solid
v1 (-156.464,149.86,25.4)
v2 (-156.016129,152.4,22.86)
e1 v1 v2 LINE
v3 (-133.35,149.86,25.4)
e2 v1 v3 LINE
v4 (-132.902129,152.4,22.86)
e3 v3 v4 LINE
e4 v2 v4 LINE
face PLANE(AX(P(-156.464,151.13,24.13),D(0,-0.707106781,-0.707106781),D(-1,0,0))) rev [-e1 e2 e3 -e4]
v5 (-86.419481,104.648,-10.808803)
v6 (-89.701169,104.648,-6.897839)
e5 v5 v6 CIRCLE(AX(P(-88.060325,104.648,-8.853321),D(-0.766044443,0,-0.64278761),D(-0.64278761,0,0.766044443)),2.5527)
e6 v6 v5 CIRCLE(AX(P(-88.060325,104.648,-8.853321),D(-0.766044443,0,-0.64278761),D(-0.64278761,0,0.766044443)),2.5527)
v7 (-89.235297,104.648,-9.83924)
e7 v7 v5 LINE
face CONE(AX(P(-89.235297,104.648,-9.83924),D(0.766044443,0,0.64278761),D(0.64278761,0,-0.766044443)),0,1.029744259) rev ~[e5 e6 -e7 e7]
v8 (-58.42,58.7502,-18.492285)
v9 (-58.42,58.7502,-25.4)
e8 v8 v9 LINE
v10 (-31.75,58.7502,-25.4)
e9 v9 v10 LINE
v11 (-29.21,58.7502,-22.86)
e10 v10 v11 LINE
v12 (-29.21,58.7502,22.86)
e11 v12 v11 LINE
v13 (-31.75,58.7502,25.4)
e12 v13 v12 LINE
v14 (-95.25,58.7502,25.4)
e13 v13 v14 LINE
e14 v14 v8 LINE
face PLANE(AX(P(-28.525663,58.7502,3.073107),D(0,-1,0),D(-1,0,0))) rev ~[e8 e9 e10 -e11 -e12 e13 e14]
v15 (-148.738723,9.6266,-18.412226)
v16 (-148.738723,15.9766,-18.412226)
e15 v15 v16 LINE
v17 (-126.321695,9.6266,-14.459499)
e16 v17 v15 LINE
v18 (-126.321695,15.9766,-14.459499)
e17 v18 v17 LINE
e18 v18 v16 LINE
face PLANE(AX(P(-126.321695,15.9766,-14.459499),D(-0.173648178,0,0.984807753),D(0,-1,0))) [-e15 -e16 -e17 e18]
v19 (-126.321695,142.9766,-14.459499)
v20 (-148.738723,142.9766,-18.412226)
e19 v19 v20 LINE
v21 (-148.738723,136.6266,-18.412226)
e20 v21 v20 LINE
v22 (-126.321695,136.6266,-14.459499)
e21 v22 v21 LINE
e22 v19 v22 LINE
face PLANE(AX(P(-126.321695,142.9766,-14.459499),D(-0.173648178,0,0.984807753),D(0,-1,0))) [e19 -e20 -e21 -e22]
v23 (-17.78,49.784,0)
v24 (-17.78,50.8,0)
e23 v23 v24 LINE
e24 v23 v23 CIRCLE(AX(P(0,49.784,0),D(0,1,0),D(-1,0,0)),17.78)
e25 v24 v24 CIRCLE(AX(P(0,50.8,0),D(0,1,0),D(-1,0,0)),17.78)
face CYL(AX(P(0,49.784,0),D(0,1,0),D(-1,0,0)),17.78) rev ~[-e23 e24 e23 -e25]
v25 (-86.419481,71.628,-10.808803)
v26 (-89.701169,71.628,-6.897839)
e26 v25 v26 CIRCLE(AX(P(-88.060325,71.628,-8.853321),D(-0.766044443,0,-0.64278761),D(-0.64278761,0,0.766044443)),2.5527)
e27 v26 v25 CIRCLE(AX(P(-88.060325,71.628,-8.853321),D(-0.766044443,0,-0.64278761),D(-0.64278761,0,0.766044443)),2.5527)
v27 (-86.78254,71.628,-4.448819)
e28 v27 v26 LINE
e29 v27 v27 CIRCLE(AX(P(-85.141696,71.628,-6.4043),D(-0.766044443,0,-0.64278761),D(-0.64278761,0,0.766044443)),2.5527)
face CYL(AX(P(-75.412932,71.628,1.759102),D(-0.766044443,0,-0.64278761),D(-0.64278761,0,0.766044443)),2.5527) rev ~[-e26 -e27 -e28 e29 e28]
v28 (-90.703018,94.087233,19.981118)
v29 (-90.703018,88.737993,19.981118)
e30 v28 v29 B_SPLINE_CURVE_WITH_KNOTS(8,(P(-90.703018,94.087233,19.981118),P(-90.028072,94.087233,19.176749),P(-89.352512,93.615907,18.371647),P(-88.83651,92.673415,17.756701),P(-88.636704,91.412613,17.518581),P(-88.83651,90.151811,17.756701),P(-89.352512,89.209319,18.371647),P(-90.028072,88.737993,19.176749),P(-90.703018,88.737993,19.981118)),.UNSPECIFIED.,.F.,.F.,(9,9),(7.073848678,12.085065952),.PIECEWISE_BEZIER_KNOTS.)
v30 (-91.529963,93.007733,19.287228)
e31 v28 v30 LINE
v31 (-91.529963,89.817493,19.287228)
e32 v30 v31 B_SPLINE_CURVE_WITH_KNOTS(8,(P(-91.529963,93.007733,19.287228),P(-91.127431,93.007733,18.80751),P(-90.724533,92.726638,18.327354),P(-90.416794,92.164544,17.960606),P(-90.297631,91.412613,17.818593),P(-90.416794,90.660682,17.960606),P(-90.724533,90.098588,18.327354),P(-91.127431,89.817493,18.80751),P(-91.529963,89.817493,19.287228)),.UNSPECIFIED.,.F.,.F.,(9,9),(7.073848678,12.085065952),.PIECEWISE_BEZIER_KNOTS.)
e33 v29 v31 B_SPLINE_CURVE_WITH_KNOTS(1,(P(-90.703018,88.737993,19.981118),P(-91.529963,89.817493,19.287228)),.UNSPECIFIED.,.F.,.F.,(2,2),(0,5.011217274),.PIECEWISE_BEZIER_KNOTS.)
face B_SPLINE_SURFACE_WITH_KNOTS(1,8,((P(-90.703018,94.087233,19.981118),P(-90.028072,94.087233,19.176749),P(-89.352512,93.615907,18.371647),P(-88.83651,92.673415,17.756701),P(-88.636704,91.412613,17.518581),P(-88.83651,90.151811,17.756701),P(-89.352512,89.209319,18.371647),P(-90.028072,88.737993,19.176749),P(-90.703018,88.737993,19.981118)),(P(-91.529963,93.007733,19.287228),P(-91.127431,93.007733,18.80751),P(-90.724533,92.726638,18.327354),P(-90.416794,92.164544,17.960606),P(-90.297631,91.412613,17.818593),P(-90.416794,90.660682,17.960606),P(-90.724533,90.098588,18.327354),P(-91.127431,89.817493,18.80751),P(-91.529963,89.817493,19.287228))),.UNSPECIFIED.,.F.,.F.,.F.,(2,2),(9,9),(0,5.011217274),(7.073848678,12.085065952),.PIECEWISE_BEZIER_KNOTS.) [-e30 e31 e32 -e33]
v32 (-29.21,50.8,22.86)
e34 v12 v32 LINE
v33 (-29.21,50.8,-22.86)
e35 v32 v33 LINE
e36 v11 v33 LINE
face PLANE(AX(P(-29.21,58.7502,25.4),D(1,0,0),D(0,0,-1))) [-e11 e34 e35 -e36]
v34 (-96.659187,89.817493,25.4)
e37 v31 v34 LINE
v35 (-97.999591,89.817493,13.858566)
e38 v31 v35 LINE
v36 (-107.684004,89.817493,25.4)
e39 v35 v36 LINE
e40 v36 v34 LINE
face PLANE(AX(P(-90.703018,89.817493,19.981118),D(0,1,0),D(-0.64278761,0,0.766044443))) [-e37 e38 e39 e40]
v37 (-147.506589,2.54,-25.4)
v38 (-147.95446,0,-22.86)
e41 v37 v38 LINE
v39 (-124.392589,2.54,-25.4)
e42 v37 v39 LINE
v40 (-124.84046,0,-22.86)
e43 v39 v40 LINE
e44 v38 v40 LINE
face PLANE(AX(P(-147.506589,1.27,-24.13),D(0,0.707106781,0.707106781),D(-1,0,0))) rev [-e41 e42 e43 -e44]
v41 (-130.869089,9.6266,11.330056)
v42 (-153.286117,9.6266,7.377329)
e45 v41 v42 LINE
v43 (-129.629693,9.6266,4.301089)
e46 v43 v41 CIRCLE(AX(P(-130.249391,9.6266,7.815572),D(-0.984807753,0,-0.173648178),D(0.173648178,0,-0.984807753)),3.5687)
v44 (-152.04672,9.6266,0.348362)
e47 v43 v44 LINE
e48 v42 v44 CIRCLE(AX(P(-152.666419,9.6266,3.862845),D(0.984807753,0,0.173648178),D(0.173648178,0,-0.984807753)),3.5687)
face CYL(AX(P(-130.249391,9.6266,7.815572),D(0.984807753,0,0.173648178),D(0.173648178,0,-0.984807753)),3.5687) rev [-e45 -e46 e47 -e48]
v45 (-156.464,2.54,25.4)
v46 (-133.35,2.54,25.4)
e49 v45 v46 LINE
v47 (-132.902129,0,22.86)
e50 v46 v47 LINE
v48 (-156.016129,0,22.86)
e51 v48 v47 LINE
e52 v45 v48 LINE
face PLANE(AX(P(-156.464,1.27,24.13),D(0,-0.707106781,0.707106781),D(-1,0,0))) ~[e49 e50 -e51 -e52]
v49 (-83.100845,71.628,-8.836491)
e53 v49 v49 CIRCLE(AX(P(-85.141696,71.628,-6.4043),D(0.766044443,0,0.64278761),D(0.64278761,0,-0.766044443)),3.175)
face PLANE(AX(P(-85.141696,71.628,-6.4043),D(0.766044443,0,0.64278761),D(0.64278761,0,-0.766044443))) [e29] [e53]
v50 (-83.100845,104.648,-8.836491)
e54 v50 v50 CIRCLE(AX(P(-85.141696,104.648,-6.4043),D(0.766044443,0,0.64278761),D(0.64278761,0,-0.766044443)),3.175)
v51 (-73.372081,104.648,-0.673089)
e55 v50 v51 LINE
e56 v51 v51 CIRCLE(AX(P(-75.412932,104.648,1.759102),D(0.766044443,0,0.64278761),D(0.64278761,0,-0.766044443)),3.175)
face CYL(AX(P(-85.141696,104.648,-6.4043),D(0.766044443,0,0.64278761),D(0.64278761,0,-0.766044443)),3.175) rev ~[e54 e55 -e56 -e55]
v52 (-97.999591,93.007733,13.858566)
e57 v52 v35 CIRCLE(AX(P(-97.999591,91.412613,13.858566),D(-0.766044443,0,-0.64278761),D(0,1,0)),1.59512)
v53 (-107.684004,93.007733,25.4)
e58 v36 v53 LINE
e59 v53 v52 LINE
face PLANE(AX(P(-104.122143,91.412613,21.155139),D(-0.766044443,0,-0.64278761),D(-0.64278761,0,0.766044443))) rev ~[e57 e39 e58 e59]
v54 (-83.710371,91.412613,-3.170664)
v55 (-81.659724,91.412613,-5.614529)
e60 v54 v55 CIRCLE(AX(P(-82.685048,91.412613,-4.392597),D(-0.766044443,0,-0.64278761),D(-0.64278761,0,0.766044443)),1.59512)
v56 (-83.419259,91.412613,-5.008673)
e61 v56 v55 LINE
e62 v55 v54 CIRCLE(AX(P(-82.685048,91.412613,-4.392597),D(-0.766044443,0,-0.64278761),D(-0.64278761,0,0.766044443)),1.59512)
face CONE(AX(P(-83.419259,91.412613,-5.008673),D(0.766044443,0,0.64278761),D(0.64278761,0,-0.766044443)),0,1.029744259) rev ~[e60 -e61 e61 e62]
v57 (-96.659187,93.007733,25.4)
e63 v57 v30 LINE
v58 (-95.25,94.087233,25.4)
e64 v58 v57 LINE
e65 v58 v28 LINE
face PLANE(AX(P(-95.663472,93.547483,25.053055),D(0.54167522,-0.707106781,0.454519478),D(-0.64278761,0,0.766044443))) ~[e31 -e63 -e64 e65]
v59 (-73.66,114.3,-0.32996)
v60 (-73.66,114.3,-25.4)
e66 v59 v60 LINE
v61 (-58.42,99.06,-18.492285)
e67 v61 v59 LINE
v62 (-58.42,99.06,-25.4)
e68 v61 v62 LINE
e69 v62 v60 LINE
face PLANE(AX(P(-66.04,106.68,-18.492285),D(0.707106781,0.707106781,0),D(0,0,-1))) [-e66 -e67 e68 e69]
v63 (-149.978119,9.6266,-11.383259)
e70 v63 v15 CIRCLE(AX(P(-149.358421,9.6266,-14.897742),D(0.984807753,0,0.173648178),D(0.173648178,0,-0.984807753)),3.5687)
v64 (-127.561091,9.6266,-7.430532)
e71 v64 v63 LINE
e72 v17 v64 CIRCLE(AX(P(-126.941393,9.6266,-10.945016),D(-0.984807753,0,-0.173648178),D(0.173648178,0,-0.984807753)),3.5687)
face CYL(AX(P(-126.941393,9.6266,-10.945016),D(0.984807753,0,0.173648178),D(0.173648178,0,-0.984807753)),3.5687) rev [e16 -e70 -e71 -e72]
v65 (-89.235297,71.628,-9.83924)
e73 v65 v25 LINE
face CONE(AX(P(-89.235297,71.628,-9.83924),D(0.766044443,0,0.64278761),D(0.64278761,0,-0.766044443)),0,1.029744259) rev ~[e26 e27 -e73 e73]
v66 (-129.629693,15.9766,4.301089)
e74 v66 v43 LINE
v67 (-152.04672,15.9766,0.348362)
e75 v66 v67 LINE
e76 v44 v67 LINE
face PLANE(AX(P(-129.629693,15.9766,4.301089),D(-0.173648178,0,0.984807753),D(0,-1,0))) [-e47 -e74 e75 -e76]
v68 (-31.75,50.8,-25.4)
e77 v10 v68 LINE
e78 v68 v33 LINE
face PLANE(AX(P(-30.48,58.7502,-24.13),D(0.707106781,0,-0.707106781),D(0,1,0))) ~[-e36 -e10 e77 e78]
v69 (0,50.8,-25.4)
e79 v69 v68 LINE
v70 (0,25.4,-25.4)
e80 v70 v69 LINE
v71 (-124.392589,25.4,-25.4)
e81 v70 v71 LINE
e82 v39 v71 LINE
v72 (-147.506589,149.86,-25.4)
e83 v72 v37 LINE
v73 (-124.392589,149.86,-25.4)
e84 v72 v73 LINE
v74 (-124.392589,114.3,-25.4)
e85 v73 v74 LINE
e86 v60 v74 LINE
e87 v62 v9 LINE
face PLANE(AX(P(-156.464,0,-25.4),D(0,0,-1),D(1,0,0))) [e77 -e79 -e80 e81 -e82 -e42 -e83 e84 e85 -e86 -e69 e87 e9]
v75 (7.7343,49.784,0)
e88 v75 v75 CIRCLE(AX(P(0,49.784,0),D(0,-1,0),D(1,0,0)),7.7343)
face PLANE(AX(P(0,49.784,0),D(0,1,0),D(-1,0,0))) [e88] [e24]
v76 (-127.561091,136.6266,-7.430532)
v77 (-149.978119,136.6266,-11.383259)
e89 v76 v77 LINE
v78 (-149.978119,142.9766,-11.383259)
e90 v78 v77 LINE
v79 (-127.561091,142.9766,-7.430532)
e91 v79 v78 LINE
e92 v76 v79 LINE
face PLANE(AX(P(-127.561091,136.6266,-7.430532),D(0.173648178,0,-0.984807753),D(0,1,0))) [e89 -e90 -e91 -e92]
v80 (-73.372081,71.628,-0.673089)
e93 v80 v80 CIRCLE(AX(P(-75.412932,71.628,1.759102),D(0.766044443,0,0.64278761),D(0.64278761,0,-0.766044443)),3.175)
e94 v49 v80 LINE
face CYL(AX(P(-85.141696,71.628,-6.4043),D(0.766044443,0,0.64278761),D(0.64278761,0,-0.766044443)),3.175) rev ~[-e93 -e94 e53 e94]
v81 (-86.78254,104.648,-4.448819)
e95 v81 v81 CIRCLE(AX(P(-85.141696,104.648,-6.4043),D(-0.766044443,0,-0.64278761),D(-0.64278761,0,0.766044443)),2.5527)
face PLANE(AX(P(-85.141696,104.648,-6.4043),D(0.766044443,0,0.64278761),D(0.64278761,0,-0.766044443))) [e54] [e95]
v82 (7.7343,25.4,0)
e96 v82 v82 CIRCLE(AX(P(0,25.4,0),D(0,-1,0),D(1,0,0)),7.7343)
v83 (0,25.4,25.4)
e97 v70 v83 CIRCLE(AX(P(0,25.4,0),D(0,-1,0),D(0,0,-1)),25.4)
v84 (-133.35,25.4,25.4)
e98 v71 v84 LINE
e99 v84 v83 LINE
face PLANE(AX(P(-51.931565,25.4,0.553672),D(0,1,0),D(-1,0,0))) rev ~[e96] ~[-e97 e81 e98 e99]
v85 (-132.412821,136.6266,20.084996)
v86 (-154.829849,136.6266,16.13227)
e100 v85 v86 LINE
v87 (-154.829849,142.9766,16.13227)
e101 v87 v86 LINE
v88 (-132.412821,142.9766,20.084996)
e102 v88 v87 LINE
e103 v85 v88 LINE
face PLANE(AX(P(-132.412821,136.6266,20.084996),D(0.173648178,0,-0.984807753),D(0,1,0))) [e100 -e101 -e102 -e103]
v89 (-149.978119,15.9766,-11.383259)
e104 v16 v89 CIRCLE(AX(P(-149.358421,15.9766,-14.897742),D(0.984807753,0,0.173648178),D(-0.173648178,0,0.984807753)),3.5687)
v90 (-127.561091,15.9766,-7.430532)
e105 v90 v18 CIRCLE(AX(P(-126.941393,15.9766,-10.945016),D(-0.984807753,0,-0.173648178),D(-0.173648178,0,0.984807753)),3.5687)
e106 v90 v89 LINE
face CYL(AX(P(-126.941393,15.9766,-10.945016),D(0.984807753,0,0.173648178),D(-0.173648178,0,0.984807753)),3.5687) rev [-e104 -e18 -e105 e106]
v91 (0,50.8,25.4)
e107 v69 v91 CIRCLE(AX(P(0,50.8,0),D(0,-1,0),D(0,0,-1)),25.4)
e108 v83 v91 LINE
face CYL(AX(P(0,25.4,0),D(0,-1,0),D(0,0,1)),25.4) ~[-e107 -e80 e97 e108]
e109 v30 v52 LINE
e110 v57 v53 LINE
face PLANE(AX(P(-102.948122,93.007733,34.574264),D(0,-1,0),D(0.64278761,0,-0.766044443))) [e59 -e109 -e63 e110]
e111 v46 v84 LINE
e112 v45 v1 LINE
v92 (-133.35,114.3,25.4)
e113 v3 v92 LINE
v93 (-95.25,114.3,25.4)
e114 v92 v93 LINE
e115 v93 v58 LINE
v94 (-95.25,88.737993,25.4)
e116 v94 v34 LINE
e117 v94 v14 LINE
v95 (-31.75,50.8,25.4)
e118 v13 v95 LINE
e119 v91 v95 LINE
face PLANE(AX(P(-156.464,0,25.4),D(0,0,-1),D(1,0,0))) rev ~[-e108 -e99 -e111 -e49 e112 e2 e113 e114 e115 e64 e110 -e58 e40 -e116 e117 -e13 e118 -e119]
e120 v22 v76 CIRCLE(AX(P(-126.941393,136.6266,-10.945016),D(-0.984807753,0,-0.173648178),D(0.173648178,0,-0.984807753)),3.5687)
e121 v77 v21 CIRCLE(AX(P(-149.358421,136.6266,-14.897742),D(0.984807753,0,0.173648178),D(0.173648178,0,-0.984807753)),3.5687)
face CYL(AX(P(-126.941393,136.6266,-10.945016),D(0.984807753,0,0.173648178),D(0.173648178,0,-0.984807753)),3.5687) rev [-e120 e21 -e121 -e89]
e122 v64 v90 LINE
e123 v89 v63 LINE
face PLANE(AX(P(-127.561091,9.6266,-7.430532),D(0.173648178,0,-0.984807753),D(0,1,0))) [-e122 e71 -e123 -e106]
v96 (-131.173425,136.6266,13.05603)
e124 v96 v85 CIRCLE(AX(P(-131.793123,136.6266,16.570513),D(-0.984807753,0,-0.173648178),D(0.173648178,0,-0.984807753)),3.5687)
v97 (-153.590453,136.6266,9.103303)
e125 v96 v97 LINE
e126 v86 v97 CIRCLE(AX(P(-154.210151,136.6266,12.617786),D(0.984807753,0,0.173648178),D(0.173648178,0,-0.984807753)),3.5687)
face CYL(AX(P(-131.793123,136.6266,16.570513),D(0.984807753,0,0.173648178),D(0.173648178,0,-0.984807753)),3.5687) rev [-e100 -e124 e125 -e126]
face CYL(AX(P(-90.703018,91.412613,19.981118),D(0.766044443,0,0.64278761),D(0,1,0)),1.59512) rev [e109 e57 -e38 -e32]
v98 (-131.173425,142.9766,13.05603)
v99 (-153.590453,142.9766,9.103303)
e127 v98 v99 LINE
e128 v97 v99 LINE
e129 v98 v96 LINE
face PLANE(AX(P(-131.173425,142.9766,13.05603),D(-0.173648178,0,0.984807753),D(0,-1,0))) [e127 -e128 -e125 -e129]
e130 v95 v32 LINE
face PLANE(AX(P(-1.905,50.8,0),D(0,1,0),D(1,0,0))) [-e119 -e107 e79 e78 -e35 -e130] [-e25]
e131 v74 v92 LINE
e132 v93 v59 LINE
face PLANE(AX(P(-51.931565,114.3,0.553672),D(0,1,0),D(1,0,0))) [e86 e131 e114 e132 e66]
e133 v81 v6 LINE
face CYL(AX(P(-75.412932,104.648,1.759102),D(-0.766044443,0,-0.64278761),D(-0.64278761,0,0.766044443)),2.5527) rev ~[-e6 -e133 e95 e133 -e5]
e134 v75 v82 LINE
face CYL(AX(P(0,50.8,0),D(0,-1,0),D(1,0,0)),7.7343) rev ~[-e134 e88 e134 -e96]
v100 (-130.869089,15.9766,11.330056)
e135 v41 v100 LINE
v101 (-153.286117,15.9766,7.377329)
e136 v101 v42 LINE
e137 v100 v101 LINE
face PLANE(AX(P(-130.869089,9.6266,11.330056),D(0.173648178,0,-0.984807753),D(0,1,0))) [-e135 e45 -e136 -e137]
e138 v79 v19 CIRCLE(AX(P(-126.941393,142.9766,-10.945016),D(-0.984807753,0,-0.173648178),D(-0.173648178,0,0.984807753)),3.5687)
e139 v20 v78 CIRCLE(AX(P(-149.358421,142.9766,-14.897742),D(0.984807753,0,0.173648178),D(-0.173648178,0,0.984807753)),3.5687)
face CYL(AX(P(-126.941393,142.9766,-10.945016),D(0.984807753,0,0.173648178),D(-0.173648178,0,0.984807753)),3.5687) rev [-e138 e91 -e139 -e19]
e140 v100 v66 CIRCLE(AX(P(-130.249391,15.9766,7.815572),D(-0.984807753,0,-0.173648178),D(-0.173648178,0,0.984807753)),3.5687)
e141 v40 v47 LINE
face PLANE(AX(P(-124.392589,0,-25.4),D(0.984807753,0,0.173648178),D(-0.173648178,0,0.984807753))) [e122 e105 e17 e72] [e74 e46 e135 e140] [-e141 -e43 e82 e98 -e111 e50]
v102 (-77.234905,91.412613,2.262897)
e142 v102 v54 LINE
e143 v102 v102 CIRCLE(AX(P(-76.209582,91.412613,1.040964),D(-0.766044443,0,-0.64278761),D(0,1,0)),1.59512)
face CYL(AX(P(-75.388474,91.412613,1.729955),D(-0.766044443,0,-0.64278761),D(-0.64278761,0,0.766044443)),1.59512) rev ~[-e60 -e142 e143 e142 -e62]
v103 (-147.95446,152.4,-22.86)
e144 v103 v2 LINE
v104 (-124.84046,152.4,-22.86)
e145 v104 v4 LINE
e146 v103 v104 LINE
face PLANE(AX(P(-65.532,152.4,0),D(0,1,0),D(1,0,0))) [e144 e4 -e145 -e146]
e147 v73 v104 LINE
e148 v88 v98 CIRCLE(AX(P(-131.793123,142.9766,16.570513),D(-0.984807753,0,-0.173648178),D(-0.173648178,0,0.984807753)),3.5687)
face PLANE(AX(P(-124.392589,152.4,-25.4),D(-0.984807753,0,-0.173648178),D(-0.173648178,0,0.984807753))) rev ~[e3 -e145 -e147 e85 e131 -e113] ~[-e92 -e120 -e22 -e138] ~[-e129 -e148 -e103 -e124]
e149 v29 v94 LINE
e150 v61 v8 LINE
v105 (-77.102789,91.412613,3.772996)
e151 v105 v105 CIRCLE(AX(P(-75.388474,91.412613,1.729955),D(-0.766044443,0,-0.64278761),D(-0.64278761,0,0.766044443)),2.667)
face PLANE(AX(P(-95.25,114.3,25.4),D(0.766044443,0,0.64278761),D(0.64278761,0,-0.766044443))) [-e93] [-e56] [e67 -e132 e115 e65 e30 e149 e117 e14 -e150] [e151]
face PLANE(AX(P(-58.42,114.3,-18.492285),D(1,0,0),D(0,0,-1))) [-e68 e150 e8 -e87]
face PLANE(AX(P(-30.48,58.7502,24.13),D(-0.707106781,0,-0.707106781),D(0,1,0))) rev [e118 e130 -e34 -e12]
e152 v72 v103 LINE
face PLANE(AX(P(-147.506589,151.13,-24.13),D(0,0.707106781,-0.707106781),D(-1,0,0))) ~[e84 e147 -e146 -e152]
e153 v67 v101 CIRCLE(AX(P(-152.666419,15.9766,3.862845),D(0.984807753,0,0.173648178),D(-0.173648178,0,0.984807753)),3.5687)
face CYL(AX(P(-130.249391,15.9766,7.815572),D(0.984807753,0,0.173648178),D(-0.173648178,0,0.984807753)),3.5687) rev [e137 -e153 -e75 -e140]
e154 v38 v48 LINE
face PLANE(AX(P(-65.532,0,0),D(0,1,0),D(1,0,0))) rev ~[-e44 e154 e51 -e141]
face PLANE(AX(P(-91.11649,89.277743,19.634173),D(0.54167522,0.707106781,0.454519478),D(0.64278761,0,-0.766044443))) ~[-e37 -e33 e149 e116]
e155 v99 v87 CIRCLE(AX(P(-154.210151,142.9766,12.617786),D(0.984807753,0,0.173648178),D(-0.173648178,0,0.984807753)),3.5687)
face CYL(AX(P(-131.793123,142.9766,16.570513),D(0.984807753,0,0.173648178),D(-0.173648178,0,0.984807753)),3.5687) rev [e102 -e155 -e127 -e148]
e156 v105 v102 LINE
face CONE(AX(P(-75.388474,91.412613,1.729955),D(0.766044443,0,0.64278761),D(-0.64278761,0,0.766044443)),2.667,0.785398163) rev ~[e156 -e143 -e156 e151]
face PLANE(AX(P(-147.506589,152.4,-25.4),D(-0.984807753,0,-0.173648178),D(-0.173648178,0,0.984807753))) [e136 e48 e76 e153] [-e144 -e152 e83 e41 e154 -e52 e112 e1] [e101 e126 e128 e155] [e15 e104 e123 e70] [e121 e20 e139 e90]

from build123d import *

# Parameters (mm, degrees)
SKETCH1_W                              = 181.864
SKETCH1_H                              = 50.8
EXTRUDE1_DEPTH                         = 152.4
EXTRUDE2_DEPTH                         = 153.4
EXTRUDE3_DEPTH                         = 38.1
EXTRUDE4_DEPTH                         = 55.5498
SKETCH5_W                              = 54.61
SKETCH5_H                              = 50.8
EXTRUDE5_DEPTH                         = 7.9502
EXTRUDE6_DEPTH                         = 25.4
EXTRUDE7_DEPTH                         = 32.584173829
LPATTERN1_COUNT                        = 2
LPATTERN1_PITCH                        = 127
LPATTERN1_COUNT_DIR2                   = 2
LPATTERN1_PITCH_DIR2                   = 27.94
F_1_4_20_TAPPED_HOLE1_D                = 5.1054
F_1_4_20_TAPPED_HOLE1_DEPTH            = 16.51
F_1_4_20_TAPPED_HOLE1_CBORE_D          = 6.35
F_1_4_20_TAPPED_HOLE1_CBORE_DEPTH      = 12.7
F_1_4_20_TAPPED_HOLE1_TIP              = 1.533816902
EXTRUDE9_DEPTH                         = 128
CHAMFER1_SIZE                          = 2.54
CHAMFER2_SIZE                          = 15.24
EXTRUDE10_DEPTH                        = 32.584173829
SCREW_THRU_HOLE_AND_CBORE_D            = 15.4686
SCREW_THRU_HOLE_AND_CBORE_CBORE_D      = 35.56
SCREW_THRU_HOLE_AND_CBORE_CBORE_DEPTH  = 1.016
F_1_8_0_125_DIAMETER_HOLE1_D           = 3.19024
F_1_8_0_125_DIAMETER_HOLE1_DEPTH       = 9.525
F_1_8_0_125_DIAMETER_HOLE1_CSINK_D     = 5.334
F_1_8_0_125_DIAMETER_HOLE1_CSINK_ANGLE = 90
F_1_8_0_125_DIAMETER_HOLE1_TIP         = 0.958444791
CUT_EXTRUDE1_DEPTH                     = 9.525
CHAMFER3_SIZE                          = 1.0795


with BuildPart() as part:
    # Sketch1 → Extrude1 (new body)
    with BuildSketch(Plane(origin=(0, 0, 0), x_dir=(1, 0, 0), z_dir=(0, 1, 0))):
        with Locations((-65.532, 0)):
            Rectangle(SKETCH1_W, SKETCH1_H)
    extrude(amount=EXTRUDE1_DEPTH)

    # Sketch2 → Extrude2 (cut, through all)
    with BuildSketch(Plane(origin=(0, 152.4, 0), x_dir=(1, 0, 0), z_dir=(0, 1, 0))):
        Polygon((-156.464, -25.4), (-156.464, 25.4), (-147.50658938, 25.4), align=None)
    extrude(amount=-EXTRUDE2_DEPTH, mode=Mode.SUBTRACT)

    # Sketch3 → Extrude3 (cut)
    with BuildSketch(Plane(origin=(0, 152.4, 0), x_dir=(1, 0, 0), z_dir=(0, 1, 0))):
        Polygon((25.4, -25.4), (25.4, 25.4), (-124.39258938, 25.4), (-133.35, -25.4), align=None)
    extrude(amount=-EXTRUDE3_DEPTH, mode=Mode.SUBTRACT)

    # Sketch4 → Extrude4 (cut)
    with BuildSketch(Plane(origin=(0, 114.3, 0), x_dir=(1, 0, 0), z_dir=(0, 1, 0))):
        Polygon((25.4, -25.4), (-95.25, -25.4), (-58.42, 18.492284815), (-58.42, 25.4), (25.4, 25.4), align=None)
    extrude(amount=-EXTRUDE4_DEPTH, mode=Mode.SUBTRACT)

    # Sketch5 → Extrude5 (cut)
    with BuildSketch(Plane(origin=(0, 58.7502, 0), x_dir=(1, 0, 0), z_dir=(0, 1, 0))):
        with Locations((-1.905, 0)):
            Rectangle(SKETCH5_W, SKETCH5_H)
    extrude(amount=-EXTRUDE5_DEPTH, mode=Mode.SUBTRACT)

    # Sketch6 → Extrude6 (cut)
    with BuildSketch(Plane.XZ):
        Polygon((25.4, 25.4), (25.4, -25.4), (-124.39258938, -25.4), (-133.35, 25.4), align=None)
    extrude(amount=-EXTRUDE6_DEPTH, mode=Mode.SUBTRACT)

    # Sketch7 → Extrude7 (cut, through all)
    with BuildSketch(Plane(origin=(-124.985349671, 0, -22.03828934), x_dir=(0.173648178, 0, -0.984807753), z_dir=(0.984807753, 0, 0.173648178))):
        with BuildLine():
            Line((-35.635705397, 142.9766), (-35.635705397, 136.6266))
            ThreePointArc((-35.635705397, 136.6266), (-39.204405397, 133.0579), (-42.773105397, 136.6266))
            Line((-42.773105397, 136.6266), (-42.773105397, 142.9766))
            ThreePointArc((-42.773105397, 142.9766), (-39.204405397, 146.5453), (-35.635705397, 142.9766))
        make_face()
    extrude7 = extrude(amount=-EXTRUDE7_DEPTH, mode=Mode.SUBTRACT)

    # LPattern1: Extrude7 2 × 2, 1 skipped
    with Locations(*[Vector(0, -1, 0) * (i * LPATTERN1_PITCH) + Vector(0.173648178, 0, -0.984807753) * (j * LPATTERN1_PITCH_DIR2) for i in range(LPATTERN1_COUNT) for j in range(LPATTERN1_COUNT_DIR2) if (i, j) not in ((0, 0), (1, 0))]):
        add(extrude7, mode=Mode.SUBTRACT)

    # 1/4-20 Tapped Hole1
    with Locations(Plane(origin=(-43.387935998, 0, -36.406801094), x_dir=(0.64278761, 0, -0.766044443), z_dir=(0.766044443, 0, 0.64278761))):
        with Locations((-49.822048678, 104.648), (-49.822048678, 71.628)):
            CounterBoreHole(F_1_4_20_TAPPED_HOLE1_D / 2, F_1_4_20_TAPPED_HOLE1_CBORE_D / 2, F_1_4_20_TAPPED_HOLE1_CBORE_DEPTH, depth=F_1_4_20_TAPPED_HOLE1_DEPTH)
            with Locations((0, 0, -(F_1_4_20_TAPPED_HOLE1_DEPTH + F_1_4_20_TAPPED_HOLE1_TIP / 2))):  # 118° drill point
                Cone(0, F_1_4_20_TAPPED_HOLE1_D / 2, F_1_4_20_TAPPED_HOLE1_TIP, mode=Mode.SUBTRACT)

    # Sketch19 → Extrude9 (cut, through all)
    with BuildSketch(Plane.XZ.offset(-25.4)):
        with BuildLine():
            Line((27.94, 25.4), (0, 25.4))
            ThreePointArc((0, 25.4), (25.4, 0), (0, -25.4))
            Line((0, -25.4), (27.94, -25.4))
            Line((27.94, -25.4), (27.94, 25.4))
        make_face()
    extrude(amount=-EXTRUDE9_DEPTH, mode=Mode.SUBTRACT)

    # Chamfer1
    chamfer1_edges = [part.edges().sort_by_distance(p)[0] for p in [
        (-135.94958938, 152.4, -25.4),
        (-144.907, 0, 25.4),
        (-29.21, 54.7751, 25.4),
        (-29.21, 54.7751, -25.4),
        (-135.94958938, 0, -25.4),
        (-144.907, 152.4, 25.4),
    ]]
    chamfer(chamfer1_edges, length=CHAMFER1_SIZE)

    # Chamfer2
    chamfer2_edges = [part.edges().sort_by_distance(p)[0] for p in [
        (-58.42, 114.3, -21.946142408),
    ]]
    chamfer(chamfer2_edges, length=CHAMFER2_SIZE)

    # Sketch20 → Extrude10 (cut, through all)
    with BuildSketch(Plane(origin=(-124.985349671, 0, -22.03828934), x_dir=(0.173648178, 0, -0.984807753), z_dir=(0.984807753, 0, 0.173648178))):
        with BuildLine():
            Line((-26.745705397, 15.9766), (-26.745705397, 9.6266))
            ThreePointArc((-26.745705397, 9.6266), (-30.314405397, 6.0579), (-33.883105397, 9.6266))
            Line((-33.883105397, 9.6266), (-33.883105397, 15.9766))
            ThreePointArc((-33.883105397, 15.9766), (-30.314405397, 19.5453), (-26.745705397, 15.9766))
        make_face()
    extrude(amount=-EXTRUDE10_DEPTH, mode=Mode.SUBTRACT)

    # SCREW THRU HOLE AND CBORE (through all)
    with Locations(Plane(origin=(0, 50.8, 0), x_dir=(-1, 0, 0), z_dir=(0, 1, 0))):
        with Locations((0, 0)):
            CounterBoreHole(SCREW_THRU_HOLE_AND_CBORE_D / 2, SCREW_THRU_HOLE_AND_CBORE_CBORE_D / 2, SCREW_THRU_HOLE_AND_CBORE_CBORE_DEPTH)

    # 1/8 (0.125) Diameter Hole1
    with Locations(Plane(origin=(-43.387935998, 0, -36.406801094), x_dir=(0.64278761, 0, -0.766044443), z_dir=(0.766044443, 0, 0.64278761))):
        with Locations((-49.784, 91.412613047)):
            CounterSinkHole(F_1_8_0_125_DIAMETER_HOLE1_D / 2, F_1_8_0_125_DIAMETER_HOLE1_CSINK_D / 2, depth=F_1_8_0_125_DIAMETER_HOLE1_DEPTH, counter_sink_angle=F_1_8_0_125_DIAMETER_HOLE1_CSINK_ANGLE)
            with Locations((0, 0, -(F_1_8_0_125_DIAMETER_HOLE1_DEPTH + F_1_8_0_125_DIAMETER_HOLE1_TIP / 2))):  # 118° drill point
                Cone(0, F_1_8_0_125_DIAMETER_HOLE1_D / 2, F_1_8_0_125_DIAMETER_HOLE1_TIP, mode=Mode.SUBTRACT)

    # Sketch26 → Cut-Extrude1 (cut)
    with BuildSketch(Plane(origin=(-43.387935998, 0, -36.406801094), x_dir=(0.64278761, 0, -0.766044443), z_dir=(0.766044443, 0, 0.64278761))):
        with BuildLine():
            Line((-73.6092, 89.817493047), (-92.6592, 89.817493047))
            ThreePointArc((-92.6592, 89.817493047), (-94.25432, 91.412613047), (-92.6592, 93.007733047))
            Line((-92.6592, 93.007733047), (-73.6092, 93.007733047))
            ThreePointArc((-73.6092, 93.007733047), (-72.01408, 91.412613047), (-73.6092, 89.817493047))
        make_face()
    extrude(amount=-CUT_EXTRUDE1_DEPTH, mode=Mode.SUBTRACT)

    # Chamfer3
    chamfer3_edges = [part.edges().sort_by_distance(p)[0] for p in [
        (-92.976508859, 89.817493047, 22.690558764),
        (-92.976508859, 93.007733047, 22.690558764),
        (-89.677694345, 91.412613047, 18.759184717),
    ]]
    chamfer(chamfer3_edges, length=CHAMFER3_SIZE)


solid = part.part
